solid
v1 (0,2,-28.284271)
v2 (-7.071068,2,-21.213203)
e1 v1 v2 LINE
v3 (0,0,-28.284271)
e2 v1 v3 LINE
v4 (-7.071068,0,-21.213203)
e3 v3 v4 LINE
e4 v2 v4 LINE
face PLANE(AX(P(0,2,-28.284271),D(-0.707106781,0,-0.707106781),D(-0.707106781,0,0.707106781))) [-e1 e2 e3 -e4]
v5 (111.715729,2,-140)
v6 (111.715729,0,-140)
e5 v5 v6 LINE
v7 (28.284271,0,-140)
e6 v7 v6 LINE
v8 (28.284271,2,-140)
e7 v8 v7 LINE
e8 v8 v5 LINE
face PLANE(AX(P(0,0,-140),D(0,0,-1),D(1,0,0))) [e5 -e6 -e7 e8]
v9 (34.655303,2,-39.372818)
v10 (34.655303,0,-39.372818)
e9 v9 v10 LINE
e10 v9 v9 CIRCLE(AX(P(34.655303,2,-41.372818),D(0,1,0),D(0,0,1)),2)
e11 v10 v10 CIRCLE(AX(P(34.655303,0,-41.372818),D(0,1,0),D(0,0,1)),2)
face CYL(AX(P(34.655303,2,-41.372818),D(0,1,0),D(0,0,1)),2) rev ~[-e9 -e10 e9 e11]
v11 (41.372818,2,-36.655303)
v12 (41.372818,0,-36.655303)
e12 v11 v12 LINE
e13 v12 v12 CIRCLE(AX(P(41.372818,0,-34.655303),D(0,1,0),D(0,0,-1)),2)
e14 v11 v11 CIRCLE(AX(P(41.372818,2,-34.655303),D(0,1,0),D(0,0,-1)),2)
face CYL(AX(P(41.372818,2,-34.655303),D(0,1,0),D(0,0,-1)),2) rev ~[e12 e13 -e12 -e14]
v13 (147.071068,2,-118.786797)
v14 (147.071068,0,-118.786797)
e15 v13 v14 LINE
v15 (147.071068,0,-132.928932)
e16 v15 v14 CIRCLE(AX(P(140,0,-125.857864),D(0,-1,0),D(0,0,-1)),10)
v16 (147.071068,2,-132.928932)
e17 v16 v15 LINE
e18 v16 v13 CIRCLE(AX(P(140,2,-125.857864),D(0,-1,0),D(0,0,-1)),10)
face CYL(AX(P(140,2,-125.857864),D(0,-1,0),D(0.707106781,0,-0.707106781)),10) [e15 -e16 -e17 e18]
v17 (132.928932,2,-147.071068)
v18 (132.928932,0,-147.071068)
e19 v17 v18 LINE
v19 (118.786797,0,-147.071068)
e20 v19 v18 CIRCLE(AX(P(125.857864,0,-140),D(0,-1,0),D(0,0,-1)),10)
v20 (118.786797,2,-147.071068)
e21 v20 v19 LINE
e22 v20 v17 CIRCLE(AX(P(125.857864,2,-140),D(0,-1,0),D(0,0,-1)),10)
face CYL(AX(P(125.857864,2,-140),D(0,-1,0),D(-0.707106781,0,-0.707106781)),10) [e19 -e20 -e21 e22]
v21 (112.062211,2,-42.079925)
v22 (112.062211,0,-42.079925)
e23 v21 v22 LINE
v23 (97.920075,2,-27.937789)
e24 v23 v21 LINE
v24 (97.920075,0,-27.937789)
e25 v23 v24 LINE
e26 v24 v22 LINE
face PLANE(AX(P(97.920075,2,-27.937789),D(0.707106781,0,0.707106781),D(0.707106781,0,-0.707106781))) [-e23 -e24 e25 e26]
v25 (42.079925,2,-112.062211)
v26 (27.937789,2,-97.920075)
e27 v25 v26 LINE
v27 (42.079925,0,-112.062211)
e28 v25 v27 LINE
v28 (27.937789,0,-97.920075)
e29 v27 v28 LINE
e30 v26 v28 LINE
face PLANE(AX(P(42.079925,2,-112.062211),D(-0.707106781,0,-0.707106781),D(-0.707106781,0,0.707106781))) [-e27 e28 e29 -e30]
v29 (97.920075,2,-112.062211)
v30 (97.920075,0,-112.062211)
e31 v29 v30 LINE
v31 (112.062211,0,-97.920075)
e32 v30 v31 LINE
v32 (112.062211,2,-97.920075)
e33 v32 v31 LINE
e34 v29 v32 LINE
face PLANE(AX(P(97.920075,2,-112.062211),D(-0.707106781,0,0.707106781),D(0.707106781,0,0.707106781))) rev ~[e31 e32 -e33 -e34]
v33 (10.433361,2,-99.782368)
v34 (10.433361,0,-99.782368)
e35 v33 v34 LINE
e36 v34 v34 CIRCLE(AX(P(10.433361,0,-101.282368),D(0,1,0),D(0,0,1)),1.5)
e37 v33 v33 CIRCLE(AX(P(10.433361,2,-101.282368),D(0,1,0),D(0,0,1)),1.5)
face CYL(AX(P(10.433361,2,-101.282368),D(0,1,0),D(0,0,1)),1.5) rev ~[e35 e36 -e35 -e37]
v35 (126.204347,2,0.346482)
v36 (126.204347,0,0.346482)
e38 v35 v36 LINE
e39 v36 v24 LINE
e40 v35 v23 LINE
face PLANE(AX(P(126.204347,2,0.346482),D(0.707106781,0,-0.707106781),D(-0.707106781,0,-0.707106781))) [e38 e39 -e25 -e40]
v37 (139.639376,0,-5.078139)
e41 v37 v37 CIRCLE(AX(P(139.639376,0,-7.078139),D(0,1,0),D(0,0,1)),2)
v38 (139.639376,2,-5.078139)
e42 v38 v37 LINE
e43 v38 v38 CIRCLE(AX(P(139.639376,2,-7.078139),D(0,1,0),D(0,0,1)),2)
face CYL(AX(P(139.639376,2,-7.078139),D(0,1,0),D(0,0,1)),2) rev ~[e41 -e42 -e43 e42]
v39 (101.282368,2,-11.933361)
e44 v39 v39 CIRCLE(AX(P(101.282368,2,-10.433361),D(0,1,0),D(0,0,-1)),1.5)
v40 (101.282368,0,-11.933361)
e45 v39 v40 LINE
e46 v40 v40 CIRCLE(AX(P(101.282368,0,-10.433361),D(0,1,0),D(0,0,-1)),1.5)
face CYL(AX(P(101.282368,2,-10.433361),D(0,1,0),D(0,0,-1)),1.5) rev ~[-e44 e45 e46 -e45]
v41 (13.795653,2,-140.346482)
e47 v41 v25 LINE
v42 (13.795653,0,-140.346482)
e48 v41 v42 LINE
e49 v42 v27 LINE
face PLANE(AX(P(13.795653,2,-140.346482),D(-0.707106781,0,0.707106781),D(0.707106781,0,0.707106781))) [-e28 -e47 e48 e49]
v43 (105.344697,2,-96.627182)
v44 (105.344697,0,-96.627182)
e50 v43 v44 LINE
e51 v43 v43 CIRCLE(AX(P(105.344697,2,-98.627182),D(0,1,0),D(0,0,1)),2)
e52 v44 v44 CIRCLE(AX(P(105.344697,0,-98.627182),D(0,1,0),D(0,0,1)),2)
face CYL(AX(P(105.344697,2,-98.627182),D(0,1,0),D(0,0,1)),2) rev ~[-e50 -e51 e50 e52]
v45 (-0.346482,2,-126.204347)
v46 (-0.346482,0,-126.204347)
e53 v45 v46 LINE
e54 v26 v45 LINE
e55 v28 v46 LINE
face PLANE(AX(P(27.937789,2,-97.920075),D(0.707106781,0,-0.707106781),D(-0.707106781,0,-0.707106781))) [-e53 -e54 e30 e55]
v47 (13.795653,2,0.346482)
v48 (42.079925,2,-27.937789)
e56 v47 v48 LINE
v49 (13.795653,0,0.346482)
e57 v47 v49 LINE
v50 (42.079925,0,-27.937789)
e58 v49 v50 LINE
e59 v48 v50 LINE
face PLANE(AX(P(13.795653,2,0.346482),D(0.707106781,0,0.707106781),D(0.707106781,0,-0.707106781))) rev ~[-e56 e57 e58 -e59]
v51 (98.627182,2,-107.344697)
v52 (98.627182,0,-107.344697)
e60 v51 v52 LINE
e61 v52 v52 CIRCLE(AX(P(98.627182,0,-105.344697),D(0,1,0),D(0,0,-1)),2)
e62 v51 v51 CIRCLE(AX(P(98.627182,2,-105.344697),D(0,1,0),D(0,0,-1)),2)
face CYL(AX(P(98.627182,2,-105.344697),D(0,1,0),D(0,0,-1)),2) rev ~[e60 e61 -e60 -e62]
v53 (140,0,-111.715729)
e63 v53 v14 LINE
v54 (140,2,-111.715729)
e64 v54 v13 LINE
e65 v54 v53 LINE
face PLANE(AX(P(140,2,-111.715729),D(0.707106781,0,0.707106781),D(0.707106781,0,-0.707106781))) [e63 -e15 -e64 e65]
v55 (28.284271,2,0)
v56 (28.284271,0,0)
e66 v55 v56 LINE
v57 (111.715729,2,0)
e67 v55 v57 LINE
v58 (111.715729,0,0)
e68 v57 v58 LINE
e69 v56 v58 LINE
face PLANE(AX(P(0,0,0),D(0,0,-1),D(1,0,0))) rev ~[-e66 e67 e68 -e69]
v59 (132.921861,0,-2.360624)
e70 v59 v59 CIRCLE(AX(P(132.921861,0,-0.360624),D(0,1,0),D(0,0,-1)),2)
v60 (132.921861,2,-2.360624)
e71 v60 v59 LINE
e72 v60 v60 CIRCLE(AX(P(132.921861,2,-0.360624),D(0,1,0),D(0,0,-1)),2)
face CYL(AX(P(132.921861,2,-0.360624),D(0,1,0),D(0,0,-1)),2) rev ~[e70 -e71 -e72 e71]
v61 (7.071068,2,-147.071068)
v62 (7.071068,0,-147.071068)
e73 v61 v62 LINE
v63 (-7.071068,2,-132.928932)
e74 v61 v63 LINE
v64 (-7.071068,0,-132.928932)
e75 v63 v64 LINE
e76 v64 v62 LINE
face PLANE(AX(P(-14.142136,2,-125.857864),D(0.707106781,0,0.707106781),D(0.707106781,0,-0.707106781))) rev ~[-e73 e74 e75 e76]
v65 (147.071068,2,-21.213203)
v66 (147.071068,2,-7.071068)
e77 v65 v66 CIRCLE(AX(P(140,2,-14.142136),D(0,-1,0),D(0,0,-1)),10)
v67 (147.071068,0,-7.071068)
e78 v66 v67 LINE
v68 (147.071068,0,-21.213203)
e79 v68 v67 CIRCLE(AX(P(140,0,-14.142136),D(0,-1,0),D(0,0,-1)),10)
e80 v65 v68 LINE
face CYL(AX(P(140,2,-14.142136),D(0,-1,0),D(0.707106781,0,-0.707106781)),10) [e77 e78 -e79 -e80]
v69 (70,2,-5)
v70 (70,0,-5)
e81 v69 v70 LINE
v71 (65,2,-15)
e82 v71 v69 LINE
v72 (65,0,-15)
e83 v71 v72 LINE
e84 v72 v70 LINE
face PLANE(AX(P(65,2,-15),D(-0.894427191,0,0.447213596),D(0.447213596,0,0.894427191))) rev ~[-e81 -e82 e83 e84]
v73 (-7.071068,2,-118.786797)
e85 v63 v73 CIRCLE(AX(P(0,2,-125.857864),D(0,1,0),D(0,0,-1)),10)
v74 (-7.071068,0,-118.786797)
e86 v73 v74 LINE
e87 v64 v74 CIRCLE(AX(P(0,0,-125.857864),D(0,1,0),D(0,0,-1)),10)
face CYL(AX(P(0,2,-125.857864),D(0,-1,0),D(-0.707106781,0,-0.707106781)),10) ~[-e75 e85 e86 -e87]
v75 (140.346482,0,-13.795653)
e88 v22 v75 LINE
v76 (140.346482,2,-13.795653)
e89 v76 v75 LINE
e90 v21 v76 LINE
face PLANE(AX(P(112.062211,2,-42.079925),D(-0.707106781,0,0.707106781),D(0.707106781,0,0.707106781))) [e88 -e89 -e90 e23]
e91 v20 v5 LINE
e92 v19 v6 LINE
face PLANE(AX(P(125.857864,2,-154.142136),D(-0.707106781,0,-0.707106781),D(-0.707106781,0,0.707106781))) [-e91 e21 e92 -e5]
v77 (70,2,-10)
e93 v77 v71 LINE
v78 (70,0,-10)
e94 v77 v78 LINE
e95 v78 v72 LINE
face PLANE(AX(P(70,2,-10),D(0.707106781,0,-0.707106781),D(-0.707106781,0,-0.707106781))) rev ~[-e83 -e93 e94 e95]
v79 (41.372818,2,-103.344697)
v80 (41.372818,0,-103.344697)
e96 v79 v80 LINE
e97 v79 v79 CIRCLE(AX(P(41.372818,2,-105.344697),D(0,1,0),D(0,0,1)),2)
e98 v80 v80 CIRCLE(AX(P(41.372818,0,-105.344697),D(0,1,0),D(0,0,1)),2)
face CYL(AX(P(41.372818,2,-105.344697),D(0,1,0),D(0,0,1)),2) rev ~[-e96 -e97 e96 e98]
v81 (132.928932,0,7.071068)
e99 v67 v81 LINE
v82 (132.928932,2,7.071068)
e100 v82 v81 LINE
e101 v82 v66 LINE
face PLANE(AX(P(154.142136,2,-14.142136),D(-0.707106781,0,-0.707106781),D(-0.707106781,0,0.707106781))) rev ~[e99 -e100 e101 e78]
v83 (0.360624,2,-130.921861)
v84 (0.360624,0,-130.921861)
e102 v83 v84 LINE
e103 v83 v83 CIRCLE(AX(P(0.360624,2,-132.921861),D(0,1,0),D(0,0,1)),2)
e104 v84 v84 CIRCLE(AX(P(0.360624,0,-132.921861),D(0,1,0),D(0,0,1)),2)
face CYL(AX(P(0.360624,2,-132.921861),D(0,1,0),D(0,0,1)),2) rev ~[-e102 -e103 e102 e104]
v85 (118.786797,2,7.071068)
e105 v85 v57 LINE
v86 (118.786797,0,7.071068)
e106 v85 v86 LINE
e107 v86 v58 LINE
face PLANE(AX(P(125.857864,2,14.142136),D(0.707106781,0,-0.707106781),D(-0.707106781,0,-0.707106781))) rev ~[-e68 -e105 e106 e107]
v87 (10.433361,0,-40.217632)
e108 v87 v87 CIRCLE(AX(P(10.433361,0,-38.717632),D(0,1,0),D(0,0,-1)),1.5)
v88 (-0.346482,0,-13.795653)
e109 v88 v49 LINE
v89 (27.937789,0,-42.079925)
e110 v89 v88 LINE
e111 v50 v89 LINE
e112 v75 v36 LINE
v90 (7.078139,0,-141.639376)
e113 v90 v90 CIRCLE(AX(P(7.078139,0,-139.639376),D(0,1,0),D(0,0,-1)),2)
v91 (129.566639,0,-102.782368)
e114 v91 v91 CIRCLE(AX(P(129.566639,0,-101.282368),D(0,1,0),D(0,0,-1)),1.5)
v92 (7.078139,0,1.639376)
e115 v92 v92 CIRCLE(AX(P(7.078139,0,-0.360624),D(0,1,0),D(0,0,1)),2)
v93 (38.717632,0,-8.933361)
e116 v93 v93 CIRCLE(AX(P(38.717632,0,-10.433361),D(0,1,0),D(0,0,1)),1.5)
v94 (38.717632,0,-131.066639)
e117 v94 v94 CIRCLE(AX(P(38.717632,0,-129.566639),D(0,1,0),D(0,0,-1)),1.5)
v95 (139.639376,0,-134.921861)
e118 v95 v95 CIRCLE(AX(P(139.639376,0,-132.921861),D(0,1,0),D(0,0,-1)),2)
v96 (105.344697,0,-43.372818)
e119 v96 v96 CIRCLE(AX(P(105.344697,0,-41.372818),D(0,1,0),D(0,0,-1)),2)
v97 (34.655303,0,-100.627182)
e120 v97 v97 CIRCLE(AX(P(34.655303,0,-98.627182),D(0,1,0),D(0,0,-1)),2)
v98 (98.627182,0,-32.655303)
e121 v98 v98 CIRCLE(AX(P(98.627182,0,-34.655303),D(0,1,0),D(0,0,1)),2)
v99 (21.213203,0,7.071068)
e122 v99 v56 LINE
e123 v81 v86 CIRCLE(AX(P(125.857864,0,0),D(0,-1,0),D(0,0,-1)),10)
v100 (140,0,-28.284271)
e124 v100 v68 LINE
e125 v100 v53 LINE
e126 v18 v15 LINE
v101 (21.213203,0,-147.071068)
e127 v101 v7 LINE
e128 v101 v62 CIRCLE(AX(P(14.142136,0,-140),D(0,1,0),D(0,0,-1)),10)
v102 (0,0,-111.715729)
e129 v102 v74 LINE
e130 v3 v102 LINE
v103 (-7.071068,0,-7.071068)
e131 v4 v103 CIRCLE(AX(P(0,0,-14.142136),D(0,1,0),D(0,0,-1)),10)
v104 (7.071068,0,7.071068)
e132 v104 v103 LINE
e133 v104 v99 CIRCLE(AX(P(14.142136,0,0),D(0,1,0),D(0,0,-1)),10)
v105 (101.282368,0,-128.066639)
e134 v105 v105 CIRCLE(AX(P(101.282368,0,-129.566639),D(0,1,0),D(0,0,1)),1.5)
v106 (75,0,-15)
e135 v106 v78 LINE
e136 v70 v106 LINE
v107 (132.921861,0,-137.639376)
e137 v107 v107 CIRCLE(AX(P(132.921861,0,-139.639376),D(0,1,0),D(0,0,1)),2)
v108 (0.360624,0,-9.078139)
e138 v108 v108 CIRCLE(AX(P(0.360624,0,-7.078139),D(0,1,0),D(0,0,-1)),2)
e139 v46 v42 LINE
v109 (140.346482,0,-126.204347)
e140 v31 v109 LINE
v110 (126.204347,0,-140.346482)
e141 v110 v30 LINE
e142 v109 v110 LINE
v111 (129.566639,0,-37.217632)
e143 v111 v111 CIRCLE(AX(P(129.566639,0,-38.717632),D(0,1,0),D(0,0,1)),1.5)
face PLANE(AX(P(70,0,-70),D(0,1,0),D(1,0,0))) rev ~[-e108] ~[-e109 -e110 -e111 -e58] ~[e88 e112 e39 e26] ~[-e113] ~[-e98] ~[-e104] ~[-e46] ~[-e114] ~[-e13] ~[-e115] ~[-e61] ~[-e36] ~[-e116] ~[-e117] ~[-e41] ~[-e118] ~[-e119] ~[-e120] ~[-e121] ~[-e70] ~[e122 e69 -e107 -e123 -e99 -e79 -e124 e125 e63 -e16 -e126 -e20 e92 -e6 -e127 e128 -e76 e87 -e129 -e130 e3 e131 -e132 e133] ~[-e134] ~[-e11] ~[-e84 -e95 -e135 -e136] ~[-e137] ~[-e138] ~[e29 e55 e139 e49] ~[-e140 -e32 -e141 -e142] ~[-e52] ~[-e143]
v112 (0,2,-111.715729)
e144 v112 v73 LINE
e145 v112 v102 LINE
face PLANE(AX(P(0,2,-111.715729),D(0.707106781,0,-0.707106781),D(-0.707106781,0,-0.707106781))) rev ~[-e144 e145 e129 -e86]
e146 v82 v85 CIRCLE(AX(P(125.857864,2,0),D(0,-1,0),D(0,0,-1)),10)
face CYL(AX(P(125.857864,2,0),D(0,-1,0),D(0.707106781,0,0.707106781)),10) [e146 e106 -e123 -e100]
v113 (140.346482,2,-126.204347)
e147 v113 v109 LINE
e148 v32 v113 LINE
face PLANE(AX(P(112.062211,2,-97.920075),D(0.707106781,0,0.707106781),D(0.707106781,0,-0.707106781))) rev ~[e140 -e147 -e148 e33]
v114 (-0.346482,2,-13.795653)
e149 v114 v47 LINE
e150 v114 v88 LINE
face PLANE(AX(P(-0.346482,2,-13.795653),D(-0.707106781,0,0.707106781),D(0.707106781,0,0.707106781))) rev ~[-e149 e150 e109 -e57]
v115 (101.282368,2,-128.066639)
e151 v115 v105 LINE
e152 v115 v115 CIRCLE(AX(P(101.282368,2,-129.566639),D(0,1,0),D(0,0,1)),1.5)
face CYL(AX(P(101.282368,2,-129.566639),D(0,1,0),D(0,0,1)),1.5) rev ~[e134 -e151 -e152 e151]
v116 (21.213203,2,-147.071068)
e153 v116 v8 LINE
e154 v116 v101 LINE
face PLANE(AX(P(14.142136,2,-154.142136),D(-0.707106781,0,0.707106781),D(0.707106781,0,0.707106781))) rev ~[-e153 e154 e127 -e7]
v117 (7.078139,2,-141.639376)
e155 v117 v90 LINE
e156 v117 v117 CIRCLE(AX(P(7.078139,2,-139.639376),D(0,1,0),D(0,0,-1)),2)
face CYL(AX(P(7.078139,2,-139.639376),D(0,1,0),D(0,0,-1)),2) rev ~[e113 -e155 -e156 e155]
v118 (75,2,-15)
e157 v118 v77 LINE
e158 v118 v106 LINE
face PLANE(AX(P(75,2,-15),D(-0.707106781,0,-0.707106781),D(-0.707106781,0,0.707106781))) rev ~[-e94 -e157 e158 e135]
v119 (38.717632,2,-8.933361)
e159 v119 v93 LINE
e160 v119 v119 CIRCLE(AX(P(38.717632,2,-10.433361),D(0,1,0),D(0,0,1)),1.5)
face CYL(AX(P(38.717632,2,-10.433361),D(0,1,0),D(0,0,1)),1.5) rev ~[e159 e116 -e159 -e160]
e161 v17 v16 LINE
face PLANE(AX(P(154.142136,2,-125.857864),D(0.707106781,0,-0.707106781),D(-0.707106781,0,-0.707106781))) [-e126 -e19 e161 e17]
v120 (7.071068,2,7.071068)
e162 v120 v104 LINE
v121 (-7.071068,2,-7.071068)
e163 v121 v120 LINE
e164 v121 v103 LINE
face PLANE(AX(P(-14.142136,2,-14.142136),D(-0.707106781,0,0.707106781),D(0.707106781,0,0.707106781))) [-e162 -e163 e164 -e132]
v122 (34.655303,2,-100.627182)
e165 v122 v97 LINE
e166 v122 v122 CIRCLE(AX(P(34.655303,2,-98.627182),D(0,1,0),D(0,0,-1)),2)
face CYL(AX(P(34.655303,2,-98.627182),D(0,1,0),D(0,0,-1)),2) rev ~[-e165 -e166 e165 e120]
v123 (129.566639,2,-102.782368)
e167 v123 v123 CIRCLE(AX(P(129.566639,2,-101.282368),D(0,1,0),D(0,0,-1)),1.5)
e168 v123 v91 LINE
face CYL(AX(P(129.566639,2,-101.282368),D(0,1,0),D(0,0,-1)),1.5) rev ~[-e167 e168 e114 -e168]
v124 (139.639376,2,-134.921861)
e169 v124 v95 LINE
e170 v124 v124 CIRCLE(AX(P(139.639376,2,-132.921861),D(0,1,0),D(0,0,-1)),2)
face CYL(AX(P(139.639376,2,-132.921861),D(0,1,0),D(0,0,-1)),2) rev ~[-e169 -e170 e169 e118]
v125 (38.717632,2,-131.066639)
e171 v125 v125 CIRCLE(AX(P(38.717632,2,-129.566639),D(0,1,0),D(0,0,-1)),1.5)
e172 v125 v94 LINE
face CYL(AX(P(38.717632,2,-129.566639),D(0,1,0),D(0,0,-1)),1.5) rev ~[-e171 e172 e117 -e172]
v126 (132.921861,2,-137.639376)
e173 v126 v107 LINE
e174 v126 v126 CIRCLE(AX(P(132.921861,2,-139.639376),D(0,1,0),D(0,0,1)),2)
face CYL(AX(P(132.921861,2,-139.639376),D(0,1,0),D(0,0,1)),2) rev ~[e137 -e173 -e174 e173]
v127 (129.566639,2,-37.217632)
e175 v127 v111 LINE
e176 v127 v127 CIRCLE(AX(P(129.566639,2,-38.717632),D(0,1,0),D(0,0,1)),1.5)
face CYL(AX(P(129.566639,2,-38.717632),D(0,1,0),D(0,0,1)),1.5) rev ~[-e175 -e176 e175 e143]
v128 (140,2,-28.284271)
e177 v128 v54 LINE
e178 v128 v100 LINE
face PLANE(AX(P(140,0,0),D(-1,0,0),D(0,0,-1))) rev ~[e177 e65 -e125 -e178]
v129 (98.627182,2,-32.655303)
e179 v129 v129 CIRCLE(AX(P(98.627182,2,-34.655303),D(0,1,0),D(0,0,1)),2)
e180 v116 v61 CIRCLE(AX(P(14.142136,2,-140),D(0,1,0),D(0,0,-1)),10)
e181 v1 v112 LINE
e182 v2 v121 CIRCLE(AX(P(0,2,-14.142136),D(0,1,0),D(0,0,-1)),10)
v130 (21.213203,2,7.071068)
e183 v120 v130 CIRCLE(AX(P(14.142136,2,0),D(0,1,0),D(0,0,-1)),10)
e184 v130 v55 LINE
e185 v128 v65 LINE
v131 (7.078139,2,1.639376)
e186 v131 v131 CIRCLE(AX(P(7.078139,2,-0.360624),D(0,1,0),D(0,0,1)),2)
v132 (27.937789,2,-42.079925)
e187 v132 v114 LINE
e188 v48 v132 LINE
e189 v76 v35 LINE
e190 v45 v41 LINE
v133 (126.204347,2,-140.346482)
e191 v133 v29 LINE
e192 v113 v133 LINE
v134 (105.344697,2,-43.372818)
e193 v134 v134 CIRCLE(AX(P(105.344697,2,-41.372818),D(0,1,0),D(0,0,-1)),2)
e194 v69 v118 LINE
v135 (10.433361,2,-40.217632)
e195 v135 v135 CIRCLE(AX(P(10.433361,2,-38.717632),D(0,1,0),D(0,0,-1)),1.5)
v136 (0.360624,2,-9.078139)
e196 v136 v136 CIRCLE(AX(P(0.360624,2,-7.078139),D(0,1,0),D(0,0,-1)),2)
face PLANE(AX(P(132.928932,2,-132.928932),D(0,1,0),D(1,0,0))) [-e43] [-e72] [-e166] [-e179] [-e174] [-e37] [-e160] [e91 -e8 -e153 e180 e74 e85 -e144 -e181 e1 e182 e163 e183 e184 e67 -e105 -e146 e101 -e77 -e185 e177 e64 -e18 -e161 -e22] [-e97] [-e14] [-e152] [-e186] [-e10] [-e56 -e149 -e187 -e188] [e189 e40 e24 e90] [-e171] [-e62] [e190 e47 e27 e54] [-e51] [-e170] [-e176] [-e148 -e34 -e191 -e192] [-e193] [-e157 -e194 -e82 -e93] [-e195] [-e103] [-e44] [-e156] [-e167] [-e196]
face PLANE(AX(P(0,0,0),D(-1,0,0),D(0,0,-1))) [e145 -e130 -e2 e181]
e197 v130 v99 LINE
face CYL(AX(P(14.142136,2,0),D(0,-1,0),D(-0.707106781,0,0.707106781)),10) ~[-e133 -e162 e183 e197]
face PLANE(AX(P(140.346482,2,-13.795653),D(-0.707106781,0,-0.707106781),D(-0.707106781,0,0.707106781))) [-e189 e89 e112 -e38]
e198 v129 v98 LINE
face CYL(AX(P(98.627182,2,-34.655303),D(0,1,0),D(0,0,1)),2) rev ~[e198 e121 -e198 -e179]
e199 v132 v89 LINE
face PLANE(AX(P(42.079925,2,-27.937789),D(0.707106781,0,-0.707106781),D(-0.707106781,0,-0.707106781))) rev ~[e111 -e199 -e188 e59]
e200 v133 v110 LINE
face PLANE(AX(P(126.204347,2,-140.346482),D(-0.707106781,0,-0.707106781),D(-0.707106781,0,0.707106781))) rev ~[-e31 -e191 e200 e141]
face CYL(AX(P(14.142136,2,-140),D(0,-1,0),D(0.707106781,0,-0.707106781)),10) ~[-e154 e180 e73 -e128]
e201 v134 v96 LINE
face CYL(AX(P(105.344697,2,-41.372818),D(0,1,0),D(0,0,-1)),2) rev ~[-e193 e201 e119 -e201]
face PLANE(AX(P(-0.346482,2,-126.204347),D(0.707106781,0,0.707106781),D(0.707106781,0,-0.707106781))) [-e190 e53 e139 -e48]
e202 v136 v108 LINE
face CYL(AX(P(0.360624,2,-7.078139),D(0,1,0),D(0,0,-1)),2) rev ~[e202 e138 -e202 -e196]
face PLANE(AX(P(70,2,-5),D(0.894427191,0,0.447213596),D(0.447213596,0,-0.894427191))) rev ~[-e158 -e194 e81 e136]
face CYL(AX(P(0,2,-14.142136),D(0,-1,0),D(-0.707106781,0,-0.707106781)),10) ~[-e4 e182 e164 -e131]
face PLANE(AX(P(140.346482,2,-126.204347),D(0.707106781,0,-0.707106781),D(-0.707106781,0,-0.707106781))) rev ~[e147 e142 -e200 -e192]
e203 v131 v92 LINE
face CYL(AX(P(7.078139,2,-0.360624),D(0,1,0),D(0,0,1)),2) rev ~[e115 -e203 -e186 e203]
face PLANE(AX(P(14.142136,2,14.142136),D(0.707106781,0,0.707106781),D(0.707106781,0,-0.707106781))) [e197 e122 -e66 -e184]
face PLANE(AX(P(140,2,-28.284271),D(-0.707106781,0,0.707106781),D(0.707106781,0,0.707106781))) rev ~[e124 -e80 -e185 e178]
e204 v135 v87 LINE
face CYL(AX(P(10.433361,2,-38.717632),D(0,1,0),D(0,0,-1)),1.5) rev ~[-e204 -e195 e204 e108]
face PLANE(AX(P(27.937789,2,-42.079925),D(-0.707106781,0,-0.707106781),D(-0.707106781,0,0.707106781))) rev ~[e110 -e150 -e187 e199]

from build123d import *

# Parameters (mm, degrees)
SKETCH1_W           = 140
SKETCH1_H           = 140
BOSS_EXTRUDE1_DEPTH = 2
BOSS_EXTRUDE3_DEPTH = 2
SKETCH3_R           = 2
CUT_EXTRUDE1_DEPTH  = 2
FILLET1_R           = 10
SKETCH4_R           = 1.5
CUT_EXTRUDE2_DEPTH  = 2
CUT_EXTRUDE3_DEPTH  = 2


with BuildPart() as part:
    # Sketch1 → Boss-Extrude1 (new body)
    with BuildSketch(Plane(origin=(0, 0, 0), x_dir=(1, 0, 0), z_dir=(0, 1, 0))):
        with Locations((70, 70)):
            Rectangle(SKETCH1_W, SKETCH1_H)
    extrude(amount=BOSS_EXTRUDE1_DEPTH)

    # Sketch2 → Boss-Extrude3 (add)
    with BuildSketch(Plane(origin=(0, 2, 0), x_dir=(1, 0, 0), z_dir=(0, 1, 0))):
        Polygon((111.715728753, 140), (140, 111.715728753), (154.142135624, 125.857864376), (125.857864376, 154.142135624), align=None)
        Polygon((0, 111.715728753), (-14.142135624, 125.857864376), (14.142135624, 154.142135624), (28.284271247, 140), align=None)
        Polygon((28.284271247, 0), (0, 28.284271247), (-14.142135624, 14.142135624), (14.142135624, -14.142135624), align=None)
        Polygon((140, 28.284271247), (154.142135624, 14.142135624), (125.857864376, -14.142135624), (111.715728753, 0), align=None)
    extrude(amount=-BOSS_EXTRUDE3_DEPTH)

    # Sketch3 → Cut-Extrude1 (cut)
    with BuildSketch(Plane(origin=(0, 2, 0), x_dir=(1, 0, 0), z_dir=(0, 1, 0))):
        with Locations(Location((7.07813888, 0.360624458, 0), (0, 0, 270))):
            Circle(SKETCH3_R)
        with Locations(Location((0.360624458, 7.07813888, 0), (0, 0, 90))):
            Circle(SKETCH3_R)
        with Locations(Location((41.372817767, 34.655303346, 0), (0, 0, 90))):
            Circle(SKETCH3_R)
        with Locations(Location((34.655303346, 41.372817767, 0), (0, 0, 270))):
            Circle(SKETCH3_R)
        with Locations(Location((132.92186112, 0.360624458, 0), (0, 0, 90))):
            Circle(SKETCH3_R)
        with Locations(Location((139.639375542, 7.07813888, 0), (0, 0, 270))):
            Circle(SKETCH3_R)
        with Locations(Location((98.627182233, 34.655303346, 0), (0, 0, 270))):
            Circle(SKETCH3_R)
        with Locations(Location((105.344696654, 41.372817767, 0), (0, 0, 90))):
            Circle(SKETCH3_R)
        with Locations(Location((132.92186112, 139.639375542, 0), (0, 0, 270))):
            Circle(SKETCH3_R)
        with Locations(Location((139.639375542, 132.92186112, 0), (0, 0, 90))):
            Circle(SKETCH3_R)
        with Locations(Location((98.627182233, 105.344696654, 0), (0, 0, 90))):
            Circle(SKETCH3_R)
        with Locations(Location((105.344696654, 98.627182233, 0), (0, 0, 270))):
            Circle(SKETCH3_R)
        with Locations(Location((7.07813888, 139.639375542, 0), (0, 0, 90))):
            Circle(SKETCH3_R)
        with Locations(Location((0.360624458, 132.92186112, 0), (0, 0, 270))):
            Circle(SKETCH3_R)
        with Locations(Location((41.372817767, 105.344696654, 0), (0, 0, 270))):
            Circle(SKETCH3_R)
        with Locations(Location((34.655303346, 98.627182233, 0), (0, 0, 90))):
            Circle(SKETCH3_R)
        Polygon((13.795653301, -0.346482323), (42.079924548, 27.937788925), (27.937788925, 42.079924548), (-0.346482323, 13.795653301), align=None)
        Polygon((97.920075452, 27.937788925), (112.062211075, 42.079924548), (140.346482323, 13.795653301), (126.204346699, -0.346482323), align=None)
        Polygon((126.204346699, 140.346482323), (97.920075452, 112.062211075), (112.062211075, 97.920075452), (140.346482323, 126.204346699), align=None)
        Polygon((42.079924548, 112.062211075), (27.937788925, 97.920075452), (-0.346482323, 126.204346699), (13.795653301, 140.346482323), align=None)
    extrude(amount=-CUT_EXTRUDE1_DEPTH, mode=Mode.SUBTRACT)

    # Fillet1
    fillet1_edges = [part.edges().sort_by_distance(p)[0] for p in [
        (125.857864376, 1, -154.142135624),
        (154.142135624, 1, -125.857864376),
        (-14.142135624, 1, -125.857864376),
        (14.142135624, 1, -154.142135624),
        (14.142135624, 1, 14.142135624),
        (-14.142135624, 1, -14.142135624),
        (154.142135624, 1, -14.142135624),
        (125.857864376, 1, 14.142135624),
    ]]
    fillet(fillet1_edges, radius=FILLET1_R)

    # Sketch4 → Cut-Extrude2 (cut)
    with BuildSketch(Plane(origin=(0, 2, 0), x_dir=(1, 0, 0), z_dir=(0, 1, 0))):
        with Locations(Location((38.717631804, 10.433360556, 0), (0, 0, 270))):
            Circle(SKETCH4_R)
        with Locations(Location((10.433360556, 38.717631804, 0), (0, 0, 90))):
            Circle(SKETCH4_R)
        with Locations(Location((101.282368196, 10.433360556, 0), (0, 0, 90))):
            Circle(SKETCH4_R)
        with Locations(Location((129.566639444, 38.717631804, 0), (0, 0, 270))):
            Circle(SKETCH4_R)
        with Locations(Location((38.717631804, 129.566639444, 0), (0, 0, 90))):
            Circle(SKETCH4_R)
        with Locations(Location((10.433360556, 101.282368196, 0), (0, 0, 270))):
            Circle(SKETCH4_R)
        with Locations(Location((101.282368196, 129.566639444, 0), (0, 0, 270))):
            Circle(SKETCH4_R)
        with Locations(Location((129.566639444, 101.282368196, 0), (0, 0, 90))):
            Circle(SKETCH4_R)
    extrude(amount=-CUT_EXTRUDE2_DEPTH, mode=Mode.SUBTRACT)

    # Sketch5 → Cut-Extrude3 (cut)
    with BuildSketch(Plane(origin=(0, 2, 0), x_dir=(1, 0, 0), z_dir=(0, 1, 0))):
        Polygon((75, 15), (70, 10), (65, 15), (70, 5), align=None)
    extrude(amount=-CUT_EXTRUDE3_DEPTH, mode=Mode.SUBTRACT)


solid = part.part
